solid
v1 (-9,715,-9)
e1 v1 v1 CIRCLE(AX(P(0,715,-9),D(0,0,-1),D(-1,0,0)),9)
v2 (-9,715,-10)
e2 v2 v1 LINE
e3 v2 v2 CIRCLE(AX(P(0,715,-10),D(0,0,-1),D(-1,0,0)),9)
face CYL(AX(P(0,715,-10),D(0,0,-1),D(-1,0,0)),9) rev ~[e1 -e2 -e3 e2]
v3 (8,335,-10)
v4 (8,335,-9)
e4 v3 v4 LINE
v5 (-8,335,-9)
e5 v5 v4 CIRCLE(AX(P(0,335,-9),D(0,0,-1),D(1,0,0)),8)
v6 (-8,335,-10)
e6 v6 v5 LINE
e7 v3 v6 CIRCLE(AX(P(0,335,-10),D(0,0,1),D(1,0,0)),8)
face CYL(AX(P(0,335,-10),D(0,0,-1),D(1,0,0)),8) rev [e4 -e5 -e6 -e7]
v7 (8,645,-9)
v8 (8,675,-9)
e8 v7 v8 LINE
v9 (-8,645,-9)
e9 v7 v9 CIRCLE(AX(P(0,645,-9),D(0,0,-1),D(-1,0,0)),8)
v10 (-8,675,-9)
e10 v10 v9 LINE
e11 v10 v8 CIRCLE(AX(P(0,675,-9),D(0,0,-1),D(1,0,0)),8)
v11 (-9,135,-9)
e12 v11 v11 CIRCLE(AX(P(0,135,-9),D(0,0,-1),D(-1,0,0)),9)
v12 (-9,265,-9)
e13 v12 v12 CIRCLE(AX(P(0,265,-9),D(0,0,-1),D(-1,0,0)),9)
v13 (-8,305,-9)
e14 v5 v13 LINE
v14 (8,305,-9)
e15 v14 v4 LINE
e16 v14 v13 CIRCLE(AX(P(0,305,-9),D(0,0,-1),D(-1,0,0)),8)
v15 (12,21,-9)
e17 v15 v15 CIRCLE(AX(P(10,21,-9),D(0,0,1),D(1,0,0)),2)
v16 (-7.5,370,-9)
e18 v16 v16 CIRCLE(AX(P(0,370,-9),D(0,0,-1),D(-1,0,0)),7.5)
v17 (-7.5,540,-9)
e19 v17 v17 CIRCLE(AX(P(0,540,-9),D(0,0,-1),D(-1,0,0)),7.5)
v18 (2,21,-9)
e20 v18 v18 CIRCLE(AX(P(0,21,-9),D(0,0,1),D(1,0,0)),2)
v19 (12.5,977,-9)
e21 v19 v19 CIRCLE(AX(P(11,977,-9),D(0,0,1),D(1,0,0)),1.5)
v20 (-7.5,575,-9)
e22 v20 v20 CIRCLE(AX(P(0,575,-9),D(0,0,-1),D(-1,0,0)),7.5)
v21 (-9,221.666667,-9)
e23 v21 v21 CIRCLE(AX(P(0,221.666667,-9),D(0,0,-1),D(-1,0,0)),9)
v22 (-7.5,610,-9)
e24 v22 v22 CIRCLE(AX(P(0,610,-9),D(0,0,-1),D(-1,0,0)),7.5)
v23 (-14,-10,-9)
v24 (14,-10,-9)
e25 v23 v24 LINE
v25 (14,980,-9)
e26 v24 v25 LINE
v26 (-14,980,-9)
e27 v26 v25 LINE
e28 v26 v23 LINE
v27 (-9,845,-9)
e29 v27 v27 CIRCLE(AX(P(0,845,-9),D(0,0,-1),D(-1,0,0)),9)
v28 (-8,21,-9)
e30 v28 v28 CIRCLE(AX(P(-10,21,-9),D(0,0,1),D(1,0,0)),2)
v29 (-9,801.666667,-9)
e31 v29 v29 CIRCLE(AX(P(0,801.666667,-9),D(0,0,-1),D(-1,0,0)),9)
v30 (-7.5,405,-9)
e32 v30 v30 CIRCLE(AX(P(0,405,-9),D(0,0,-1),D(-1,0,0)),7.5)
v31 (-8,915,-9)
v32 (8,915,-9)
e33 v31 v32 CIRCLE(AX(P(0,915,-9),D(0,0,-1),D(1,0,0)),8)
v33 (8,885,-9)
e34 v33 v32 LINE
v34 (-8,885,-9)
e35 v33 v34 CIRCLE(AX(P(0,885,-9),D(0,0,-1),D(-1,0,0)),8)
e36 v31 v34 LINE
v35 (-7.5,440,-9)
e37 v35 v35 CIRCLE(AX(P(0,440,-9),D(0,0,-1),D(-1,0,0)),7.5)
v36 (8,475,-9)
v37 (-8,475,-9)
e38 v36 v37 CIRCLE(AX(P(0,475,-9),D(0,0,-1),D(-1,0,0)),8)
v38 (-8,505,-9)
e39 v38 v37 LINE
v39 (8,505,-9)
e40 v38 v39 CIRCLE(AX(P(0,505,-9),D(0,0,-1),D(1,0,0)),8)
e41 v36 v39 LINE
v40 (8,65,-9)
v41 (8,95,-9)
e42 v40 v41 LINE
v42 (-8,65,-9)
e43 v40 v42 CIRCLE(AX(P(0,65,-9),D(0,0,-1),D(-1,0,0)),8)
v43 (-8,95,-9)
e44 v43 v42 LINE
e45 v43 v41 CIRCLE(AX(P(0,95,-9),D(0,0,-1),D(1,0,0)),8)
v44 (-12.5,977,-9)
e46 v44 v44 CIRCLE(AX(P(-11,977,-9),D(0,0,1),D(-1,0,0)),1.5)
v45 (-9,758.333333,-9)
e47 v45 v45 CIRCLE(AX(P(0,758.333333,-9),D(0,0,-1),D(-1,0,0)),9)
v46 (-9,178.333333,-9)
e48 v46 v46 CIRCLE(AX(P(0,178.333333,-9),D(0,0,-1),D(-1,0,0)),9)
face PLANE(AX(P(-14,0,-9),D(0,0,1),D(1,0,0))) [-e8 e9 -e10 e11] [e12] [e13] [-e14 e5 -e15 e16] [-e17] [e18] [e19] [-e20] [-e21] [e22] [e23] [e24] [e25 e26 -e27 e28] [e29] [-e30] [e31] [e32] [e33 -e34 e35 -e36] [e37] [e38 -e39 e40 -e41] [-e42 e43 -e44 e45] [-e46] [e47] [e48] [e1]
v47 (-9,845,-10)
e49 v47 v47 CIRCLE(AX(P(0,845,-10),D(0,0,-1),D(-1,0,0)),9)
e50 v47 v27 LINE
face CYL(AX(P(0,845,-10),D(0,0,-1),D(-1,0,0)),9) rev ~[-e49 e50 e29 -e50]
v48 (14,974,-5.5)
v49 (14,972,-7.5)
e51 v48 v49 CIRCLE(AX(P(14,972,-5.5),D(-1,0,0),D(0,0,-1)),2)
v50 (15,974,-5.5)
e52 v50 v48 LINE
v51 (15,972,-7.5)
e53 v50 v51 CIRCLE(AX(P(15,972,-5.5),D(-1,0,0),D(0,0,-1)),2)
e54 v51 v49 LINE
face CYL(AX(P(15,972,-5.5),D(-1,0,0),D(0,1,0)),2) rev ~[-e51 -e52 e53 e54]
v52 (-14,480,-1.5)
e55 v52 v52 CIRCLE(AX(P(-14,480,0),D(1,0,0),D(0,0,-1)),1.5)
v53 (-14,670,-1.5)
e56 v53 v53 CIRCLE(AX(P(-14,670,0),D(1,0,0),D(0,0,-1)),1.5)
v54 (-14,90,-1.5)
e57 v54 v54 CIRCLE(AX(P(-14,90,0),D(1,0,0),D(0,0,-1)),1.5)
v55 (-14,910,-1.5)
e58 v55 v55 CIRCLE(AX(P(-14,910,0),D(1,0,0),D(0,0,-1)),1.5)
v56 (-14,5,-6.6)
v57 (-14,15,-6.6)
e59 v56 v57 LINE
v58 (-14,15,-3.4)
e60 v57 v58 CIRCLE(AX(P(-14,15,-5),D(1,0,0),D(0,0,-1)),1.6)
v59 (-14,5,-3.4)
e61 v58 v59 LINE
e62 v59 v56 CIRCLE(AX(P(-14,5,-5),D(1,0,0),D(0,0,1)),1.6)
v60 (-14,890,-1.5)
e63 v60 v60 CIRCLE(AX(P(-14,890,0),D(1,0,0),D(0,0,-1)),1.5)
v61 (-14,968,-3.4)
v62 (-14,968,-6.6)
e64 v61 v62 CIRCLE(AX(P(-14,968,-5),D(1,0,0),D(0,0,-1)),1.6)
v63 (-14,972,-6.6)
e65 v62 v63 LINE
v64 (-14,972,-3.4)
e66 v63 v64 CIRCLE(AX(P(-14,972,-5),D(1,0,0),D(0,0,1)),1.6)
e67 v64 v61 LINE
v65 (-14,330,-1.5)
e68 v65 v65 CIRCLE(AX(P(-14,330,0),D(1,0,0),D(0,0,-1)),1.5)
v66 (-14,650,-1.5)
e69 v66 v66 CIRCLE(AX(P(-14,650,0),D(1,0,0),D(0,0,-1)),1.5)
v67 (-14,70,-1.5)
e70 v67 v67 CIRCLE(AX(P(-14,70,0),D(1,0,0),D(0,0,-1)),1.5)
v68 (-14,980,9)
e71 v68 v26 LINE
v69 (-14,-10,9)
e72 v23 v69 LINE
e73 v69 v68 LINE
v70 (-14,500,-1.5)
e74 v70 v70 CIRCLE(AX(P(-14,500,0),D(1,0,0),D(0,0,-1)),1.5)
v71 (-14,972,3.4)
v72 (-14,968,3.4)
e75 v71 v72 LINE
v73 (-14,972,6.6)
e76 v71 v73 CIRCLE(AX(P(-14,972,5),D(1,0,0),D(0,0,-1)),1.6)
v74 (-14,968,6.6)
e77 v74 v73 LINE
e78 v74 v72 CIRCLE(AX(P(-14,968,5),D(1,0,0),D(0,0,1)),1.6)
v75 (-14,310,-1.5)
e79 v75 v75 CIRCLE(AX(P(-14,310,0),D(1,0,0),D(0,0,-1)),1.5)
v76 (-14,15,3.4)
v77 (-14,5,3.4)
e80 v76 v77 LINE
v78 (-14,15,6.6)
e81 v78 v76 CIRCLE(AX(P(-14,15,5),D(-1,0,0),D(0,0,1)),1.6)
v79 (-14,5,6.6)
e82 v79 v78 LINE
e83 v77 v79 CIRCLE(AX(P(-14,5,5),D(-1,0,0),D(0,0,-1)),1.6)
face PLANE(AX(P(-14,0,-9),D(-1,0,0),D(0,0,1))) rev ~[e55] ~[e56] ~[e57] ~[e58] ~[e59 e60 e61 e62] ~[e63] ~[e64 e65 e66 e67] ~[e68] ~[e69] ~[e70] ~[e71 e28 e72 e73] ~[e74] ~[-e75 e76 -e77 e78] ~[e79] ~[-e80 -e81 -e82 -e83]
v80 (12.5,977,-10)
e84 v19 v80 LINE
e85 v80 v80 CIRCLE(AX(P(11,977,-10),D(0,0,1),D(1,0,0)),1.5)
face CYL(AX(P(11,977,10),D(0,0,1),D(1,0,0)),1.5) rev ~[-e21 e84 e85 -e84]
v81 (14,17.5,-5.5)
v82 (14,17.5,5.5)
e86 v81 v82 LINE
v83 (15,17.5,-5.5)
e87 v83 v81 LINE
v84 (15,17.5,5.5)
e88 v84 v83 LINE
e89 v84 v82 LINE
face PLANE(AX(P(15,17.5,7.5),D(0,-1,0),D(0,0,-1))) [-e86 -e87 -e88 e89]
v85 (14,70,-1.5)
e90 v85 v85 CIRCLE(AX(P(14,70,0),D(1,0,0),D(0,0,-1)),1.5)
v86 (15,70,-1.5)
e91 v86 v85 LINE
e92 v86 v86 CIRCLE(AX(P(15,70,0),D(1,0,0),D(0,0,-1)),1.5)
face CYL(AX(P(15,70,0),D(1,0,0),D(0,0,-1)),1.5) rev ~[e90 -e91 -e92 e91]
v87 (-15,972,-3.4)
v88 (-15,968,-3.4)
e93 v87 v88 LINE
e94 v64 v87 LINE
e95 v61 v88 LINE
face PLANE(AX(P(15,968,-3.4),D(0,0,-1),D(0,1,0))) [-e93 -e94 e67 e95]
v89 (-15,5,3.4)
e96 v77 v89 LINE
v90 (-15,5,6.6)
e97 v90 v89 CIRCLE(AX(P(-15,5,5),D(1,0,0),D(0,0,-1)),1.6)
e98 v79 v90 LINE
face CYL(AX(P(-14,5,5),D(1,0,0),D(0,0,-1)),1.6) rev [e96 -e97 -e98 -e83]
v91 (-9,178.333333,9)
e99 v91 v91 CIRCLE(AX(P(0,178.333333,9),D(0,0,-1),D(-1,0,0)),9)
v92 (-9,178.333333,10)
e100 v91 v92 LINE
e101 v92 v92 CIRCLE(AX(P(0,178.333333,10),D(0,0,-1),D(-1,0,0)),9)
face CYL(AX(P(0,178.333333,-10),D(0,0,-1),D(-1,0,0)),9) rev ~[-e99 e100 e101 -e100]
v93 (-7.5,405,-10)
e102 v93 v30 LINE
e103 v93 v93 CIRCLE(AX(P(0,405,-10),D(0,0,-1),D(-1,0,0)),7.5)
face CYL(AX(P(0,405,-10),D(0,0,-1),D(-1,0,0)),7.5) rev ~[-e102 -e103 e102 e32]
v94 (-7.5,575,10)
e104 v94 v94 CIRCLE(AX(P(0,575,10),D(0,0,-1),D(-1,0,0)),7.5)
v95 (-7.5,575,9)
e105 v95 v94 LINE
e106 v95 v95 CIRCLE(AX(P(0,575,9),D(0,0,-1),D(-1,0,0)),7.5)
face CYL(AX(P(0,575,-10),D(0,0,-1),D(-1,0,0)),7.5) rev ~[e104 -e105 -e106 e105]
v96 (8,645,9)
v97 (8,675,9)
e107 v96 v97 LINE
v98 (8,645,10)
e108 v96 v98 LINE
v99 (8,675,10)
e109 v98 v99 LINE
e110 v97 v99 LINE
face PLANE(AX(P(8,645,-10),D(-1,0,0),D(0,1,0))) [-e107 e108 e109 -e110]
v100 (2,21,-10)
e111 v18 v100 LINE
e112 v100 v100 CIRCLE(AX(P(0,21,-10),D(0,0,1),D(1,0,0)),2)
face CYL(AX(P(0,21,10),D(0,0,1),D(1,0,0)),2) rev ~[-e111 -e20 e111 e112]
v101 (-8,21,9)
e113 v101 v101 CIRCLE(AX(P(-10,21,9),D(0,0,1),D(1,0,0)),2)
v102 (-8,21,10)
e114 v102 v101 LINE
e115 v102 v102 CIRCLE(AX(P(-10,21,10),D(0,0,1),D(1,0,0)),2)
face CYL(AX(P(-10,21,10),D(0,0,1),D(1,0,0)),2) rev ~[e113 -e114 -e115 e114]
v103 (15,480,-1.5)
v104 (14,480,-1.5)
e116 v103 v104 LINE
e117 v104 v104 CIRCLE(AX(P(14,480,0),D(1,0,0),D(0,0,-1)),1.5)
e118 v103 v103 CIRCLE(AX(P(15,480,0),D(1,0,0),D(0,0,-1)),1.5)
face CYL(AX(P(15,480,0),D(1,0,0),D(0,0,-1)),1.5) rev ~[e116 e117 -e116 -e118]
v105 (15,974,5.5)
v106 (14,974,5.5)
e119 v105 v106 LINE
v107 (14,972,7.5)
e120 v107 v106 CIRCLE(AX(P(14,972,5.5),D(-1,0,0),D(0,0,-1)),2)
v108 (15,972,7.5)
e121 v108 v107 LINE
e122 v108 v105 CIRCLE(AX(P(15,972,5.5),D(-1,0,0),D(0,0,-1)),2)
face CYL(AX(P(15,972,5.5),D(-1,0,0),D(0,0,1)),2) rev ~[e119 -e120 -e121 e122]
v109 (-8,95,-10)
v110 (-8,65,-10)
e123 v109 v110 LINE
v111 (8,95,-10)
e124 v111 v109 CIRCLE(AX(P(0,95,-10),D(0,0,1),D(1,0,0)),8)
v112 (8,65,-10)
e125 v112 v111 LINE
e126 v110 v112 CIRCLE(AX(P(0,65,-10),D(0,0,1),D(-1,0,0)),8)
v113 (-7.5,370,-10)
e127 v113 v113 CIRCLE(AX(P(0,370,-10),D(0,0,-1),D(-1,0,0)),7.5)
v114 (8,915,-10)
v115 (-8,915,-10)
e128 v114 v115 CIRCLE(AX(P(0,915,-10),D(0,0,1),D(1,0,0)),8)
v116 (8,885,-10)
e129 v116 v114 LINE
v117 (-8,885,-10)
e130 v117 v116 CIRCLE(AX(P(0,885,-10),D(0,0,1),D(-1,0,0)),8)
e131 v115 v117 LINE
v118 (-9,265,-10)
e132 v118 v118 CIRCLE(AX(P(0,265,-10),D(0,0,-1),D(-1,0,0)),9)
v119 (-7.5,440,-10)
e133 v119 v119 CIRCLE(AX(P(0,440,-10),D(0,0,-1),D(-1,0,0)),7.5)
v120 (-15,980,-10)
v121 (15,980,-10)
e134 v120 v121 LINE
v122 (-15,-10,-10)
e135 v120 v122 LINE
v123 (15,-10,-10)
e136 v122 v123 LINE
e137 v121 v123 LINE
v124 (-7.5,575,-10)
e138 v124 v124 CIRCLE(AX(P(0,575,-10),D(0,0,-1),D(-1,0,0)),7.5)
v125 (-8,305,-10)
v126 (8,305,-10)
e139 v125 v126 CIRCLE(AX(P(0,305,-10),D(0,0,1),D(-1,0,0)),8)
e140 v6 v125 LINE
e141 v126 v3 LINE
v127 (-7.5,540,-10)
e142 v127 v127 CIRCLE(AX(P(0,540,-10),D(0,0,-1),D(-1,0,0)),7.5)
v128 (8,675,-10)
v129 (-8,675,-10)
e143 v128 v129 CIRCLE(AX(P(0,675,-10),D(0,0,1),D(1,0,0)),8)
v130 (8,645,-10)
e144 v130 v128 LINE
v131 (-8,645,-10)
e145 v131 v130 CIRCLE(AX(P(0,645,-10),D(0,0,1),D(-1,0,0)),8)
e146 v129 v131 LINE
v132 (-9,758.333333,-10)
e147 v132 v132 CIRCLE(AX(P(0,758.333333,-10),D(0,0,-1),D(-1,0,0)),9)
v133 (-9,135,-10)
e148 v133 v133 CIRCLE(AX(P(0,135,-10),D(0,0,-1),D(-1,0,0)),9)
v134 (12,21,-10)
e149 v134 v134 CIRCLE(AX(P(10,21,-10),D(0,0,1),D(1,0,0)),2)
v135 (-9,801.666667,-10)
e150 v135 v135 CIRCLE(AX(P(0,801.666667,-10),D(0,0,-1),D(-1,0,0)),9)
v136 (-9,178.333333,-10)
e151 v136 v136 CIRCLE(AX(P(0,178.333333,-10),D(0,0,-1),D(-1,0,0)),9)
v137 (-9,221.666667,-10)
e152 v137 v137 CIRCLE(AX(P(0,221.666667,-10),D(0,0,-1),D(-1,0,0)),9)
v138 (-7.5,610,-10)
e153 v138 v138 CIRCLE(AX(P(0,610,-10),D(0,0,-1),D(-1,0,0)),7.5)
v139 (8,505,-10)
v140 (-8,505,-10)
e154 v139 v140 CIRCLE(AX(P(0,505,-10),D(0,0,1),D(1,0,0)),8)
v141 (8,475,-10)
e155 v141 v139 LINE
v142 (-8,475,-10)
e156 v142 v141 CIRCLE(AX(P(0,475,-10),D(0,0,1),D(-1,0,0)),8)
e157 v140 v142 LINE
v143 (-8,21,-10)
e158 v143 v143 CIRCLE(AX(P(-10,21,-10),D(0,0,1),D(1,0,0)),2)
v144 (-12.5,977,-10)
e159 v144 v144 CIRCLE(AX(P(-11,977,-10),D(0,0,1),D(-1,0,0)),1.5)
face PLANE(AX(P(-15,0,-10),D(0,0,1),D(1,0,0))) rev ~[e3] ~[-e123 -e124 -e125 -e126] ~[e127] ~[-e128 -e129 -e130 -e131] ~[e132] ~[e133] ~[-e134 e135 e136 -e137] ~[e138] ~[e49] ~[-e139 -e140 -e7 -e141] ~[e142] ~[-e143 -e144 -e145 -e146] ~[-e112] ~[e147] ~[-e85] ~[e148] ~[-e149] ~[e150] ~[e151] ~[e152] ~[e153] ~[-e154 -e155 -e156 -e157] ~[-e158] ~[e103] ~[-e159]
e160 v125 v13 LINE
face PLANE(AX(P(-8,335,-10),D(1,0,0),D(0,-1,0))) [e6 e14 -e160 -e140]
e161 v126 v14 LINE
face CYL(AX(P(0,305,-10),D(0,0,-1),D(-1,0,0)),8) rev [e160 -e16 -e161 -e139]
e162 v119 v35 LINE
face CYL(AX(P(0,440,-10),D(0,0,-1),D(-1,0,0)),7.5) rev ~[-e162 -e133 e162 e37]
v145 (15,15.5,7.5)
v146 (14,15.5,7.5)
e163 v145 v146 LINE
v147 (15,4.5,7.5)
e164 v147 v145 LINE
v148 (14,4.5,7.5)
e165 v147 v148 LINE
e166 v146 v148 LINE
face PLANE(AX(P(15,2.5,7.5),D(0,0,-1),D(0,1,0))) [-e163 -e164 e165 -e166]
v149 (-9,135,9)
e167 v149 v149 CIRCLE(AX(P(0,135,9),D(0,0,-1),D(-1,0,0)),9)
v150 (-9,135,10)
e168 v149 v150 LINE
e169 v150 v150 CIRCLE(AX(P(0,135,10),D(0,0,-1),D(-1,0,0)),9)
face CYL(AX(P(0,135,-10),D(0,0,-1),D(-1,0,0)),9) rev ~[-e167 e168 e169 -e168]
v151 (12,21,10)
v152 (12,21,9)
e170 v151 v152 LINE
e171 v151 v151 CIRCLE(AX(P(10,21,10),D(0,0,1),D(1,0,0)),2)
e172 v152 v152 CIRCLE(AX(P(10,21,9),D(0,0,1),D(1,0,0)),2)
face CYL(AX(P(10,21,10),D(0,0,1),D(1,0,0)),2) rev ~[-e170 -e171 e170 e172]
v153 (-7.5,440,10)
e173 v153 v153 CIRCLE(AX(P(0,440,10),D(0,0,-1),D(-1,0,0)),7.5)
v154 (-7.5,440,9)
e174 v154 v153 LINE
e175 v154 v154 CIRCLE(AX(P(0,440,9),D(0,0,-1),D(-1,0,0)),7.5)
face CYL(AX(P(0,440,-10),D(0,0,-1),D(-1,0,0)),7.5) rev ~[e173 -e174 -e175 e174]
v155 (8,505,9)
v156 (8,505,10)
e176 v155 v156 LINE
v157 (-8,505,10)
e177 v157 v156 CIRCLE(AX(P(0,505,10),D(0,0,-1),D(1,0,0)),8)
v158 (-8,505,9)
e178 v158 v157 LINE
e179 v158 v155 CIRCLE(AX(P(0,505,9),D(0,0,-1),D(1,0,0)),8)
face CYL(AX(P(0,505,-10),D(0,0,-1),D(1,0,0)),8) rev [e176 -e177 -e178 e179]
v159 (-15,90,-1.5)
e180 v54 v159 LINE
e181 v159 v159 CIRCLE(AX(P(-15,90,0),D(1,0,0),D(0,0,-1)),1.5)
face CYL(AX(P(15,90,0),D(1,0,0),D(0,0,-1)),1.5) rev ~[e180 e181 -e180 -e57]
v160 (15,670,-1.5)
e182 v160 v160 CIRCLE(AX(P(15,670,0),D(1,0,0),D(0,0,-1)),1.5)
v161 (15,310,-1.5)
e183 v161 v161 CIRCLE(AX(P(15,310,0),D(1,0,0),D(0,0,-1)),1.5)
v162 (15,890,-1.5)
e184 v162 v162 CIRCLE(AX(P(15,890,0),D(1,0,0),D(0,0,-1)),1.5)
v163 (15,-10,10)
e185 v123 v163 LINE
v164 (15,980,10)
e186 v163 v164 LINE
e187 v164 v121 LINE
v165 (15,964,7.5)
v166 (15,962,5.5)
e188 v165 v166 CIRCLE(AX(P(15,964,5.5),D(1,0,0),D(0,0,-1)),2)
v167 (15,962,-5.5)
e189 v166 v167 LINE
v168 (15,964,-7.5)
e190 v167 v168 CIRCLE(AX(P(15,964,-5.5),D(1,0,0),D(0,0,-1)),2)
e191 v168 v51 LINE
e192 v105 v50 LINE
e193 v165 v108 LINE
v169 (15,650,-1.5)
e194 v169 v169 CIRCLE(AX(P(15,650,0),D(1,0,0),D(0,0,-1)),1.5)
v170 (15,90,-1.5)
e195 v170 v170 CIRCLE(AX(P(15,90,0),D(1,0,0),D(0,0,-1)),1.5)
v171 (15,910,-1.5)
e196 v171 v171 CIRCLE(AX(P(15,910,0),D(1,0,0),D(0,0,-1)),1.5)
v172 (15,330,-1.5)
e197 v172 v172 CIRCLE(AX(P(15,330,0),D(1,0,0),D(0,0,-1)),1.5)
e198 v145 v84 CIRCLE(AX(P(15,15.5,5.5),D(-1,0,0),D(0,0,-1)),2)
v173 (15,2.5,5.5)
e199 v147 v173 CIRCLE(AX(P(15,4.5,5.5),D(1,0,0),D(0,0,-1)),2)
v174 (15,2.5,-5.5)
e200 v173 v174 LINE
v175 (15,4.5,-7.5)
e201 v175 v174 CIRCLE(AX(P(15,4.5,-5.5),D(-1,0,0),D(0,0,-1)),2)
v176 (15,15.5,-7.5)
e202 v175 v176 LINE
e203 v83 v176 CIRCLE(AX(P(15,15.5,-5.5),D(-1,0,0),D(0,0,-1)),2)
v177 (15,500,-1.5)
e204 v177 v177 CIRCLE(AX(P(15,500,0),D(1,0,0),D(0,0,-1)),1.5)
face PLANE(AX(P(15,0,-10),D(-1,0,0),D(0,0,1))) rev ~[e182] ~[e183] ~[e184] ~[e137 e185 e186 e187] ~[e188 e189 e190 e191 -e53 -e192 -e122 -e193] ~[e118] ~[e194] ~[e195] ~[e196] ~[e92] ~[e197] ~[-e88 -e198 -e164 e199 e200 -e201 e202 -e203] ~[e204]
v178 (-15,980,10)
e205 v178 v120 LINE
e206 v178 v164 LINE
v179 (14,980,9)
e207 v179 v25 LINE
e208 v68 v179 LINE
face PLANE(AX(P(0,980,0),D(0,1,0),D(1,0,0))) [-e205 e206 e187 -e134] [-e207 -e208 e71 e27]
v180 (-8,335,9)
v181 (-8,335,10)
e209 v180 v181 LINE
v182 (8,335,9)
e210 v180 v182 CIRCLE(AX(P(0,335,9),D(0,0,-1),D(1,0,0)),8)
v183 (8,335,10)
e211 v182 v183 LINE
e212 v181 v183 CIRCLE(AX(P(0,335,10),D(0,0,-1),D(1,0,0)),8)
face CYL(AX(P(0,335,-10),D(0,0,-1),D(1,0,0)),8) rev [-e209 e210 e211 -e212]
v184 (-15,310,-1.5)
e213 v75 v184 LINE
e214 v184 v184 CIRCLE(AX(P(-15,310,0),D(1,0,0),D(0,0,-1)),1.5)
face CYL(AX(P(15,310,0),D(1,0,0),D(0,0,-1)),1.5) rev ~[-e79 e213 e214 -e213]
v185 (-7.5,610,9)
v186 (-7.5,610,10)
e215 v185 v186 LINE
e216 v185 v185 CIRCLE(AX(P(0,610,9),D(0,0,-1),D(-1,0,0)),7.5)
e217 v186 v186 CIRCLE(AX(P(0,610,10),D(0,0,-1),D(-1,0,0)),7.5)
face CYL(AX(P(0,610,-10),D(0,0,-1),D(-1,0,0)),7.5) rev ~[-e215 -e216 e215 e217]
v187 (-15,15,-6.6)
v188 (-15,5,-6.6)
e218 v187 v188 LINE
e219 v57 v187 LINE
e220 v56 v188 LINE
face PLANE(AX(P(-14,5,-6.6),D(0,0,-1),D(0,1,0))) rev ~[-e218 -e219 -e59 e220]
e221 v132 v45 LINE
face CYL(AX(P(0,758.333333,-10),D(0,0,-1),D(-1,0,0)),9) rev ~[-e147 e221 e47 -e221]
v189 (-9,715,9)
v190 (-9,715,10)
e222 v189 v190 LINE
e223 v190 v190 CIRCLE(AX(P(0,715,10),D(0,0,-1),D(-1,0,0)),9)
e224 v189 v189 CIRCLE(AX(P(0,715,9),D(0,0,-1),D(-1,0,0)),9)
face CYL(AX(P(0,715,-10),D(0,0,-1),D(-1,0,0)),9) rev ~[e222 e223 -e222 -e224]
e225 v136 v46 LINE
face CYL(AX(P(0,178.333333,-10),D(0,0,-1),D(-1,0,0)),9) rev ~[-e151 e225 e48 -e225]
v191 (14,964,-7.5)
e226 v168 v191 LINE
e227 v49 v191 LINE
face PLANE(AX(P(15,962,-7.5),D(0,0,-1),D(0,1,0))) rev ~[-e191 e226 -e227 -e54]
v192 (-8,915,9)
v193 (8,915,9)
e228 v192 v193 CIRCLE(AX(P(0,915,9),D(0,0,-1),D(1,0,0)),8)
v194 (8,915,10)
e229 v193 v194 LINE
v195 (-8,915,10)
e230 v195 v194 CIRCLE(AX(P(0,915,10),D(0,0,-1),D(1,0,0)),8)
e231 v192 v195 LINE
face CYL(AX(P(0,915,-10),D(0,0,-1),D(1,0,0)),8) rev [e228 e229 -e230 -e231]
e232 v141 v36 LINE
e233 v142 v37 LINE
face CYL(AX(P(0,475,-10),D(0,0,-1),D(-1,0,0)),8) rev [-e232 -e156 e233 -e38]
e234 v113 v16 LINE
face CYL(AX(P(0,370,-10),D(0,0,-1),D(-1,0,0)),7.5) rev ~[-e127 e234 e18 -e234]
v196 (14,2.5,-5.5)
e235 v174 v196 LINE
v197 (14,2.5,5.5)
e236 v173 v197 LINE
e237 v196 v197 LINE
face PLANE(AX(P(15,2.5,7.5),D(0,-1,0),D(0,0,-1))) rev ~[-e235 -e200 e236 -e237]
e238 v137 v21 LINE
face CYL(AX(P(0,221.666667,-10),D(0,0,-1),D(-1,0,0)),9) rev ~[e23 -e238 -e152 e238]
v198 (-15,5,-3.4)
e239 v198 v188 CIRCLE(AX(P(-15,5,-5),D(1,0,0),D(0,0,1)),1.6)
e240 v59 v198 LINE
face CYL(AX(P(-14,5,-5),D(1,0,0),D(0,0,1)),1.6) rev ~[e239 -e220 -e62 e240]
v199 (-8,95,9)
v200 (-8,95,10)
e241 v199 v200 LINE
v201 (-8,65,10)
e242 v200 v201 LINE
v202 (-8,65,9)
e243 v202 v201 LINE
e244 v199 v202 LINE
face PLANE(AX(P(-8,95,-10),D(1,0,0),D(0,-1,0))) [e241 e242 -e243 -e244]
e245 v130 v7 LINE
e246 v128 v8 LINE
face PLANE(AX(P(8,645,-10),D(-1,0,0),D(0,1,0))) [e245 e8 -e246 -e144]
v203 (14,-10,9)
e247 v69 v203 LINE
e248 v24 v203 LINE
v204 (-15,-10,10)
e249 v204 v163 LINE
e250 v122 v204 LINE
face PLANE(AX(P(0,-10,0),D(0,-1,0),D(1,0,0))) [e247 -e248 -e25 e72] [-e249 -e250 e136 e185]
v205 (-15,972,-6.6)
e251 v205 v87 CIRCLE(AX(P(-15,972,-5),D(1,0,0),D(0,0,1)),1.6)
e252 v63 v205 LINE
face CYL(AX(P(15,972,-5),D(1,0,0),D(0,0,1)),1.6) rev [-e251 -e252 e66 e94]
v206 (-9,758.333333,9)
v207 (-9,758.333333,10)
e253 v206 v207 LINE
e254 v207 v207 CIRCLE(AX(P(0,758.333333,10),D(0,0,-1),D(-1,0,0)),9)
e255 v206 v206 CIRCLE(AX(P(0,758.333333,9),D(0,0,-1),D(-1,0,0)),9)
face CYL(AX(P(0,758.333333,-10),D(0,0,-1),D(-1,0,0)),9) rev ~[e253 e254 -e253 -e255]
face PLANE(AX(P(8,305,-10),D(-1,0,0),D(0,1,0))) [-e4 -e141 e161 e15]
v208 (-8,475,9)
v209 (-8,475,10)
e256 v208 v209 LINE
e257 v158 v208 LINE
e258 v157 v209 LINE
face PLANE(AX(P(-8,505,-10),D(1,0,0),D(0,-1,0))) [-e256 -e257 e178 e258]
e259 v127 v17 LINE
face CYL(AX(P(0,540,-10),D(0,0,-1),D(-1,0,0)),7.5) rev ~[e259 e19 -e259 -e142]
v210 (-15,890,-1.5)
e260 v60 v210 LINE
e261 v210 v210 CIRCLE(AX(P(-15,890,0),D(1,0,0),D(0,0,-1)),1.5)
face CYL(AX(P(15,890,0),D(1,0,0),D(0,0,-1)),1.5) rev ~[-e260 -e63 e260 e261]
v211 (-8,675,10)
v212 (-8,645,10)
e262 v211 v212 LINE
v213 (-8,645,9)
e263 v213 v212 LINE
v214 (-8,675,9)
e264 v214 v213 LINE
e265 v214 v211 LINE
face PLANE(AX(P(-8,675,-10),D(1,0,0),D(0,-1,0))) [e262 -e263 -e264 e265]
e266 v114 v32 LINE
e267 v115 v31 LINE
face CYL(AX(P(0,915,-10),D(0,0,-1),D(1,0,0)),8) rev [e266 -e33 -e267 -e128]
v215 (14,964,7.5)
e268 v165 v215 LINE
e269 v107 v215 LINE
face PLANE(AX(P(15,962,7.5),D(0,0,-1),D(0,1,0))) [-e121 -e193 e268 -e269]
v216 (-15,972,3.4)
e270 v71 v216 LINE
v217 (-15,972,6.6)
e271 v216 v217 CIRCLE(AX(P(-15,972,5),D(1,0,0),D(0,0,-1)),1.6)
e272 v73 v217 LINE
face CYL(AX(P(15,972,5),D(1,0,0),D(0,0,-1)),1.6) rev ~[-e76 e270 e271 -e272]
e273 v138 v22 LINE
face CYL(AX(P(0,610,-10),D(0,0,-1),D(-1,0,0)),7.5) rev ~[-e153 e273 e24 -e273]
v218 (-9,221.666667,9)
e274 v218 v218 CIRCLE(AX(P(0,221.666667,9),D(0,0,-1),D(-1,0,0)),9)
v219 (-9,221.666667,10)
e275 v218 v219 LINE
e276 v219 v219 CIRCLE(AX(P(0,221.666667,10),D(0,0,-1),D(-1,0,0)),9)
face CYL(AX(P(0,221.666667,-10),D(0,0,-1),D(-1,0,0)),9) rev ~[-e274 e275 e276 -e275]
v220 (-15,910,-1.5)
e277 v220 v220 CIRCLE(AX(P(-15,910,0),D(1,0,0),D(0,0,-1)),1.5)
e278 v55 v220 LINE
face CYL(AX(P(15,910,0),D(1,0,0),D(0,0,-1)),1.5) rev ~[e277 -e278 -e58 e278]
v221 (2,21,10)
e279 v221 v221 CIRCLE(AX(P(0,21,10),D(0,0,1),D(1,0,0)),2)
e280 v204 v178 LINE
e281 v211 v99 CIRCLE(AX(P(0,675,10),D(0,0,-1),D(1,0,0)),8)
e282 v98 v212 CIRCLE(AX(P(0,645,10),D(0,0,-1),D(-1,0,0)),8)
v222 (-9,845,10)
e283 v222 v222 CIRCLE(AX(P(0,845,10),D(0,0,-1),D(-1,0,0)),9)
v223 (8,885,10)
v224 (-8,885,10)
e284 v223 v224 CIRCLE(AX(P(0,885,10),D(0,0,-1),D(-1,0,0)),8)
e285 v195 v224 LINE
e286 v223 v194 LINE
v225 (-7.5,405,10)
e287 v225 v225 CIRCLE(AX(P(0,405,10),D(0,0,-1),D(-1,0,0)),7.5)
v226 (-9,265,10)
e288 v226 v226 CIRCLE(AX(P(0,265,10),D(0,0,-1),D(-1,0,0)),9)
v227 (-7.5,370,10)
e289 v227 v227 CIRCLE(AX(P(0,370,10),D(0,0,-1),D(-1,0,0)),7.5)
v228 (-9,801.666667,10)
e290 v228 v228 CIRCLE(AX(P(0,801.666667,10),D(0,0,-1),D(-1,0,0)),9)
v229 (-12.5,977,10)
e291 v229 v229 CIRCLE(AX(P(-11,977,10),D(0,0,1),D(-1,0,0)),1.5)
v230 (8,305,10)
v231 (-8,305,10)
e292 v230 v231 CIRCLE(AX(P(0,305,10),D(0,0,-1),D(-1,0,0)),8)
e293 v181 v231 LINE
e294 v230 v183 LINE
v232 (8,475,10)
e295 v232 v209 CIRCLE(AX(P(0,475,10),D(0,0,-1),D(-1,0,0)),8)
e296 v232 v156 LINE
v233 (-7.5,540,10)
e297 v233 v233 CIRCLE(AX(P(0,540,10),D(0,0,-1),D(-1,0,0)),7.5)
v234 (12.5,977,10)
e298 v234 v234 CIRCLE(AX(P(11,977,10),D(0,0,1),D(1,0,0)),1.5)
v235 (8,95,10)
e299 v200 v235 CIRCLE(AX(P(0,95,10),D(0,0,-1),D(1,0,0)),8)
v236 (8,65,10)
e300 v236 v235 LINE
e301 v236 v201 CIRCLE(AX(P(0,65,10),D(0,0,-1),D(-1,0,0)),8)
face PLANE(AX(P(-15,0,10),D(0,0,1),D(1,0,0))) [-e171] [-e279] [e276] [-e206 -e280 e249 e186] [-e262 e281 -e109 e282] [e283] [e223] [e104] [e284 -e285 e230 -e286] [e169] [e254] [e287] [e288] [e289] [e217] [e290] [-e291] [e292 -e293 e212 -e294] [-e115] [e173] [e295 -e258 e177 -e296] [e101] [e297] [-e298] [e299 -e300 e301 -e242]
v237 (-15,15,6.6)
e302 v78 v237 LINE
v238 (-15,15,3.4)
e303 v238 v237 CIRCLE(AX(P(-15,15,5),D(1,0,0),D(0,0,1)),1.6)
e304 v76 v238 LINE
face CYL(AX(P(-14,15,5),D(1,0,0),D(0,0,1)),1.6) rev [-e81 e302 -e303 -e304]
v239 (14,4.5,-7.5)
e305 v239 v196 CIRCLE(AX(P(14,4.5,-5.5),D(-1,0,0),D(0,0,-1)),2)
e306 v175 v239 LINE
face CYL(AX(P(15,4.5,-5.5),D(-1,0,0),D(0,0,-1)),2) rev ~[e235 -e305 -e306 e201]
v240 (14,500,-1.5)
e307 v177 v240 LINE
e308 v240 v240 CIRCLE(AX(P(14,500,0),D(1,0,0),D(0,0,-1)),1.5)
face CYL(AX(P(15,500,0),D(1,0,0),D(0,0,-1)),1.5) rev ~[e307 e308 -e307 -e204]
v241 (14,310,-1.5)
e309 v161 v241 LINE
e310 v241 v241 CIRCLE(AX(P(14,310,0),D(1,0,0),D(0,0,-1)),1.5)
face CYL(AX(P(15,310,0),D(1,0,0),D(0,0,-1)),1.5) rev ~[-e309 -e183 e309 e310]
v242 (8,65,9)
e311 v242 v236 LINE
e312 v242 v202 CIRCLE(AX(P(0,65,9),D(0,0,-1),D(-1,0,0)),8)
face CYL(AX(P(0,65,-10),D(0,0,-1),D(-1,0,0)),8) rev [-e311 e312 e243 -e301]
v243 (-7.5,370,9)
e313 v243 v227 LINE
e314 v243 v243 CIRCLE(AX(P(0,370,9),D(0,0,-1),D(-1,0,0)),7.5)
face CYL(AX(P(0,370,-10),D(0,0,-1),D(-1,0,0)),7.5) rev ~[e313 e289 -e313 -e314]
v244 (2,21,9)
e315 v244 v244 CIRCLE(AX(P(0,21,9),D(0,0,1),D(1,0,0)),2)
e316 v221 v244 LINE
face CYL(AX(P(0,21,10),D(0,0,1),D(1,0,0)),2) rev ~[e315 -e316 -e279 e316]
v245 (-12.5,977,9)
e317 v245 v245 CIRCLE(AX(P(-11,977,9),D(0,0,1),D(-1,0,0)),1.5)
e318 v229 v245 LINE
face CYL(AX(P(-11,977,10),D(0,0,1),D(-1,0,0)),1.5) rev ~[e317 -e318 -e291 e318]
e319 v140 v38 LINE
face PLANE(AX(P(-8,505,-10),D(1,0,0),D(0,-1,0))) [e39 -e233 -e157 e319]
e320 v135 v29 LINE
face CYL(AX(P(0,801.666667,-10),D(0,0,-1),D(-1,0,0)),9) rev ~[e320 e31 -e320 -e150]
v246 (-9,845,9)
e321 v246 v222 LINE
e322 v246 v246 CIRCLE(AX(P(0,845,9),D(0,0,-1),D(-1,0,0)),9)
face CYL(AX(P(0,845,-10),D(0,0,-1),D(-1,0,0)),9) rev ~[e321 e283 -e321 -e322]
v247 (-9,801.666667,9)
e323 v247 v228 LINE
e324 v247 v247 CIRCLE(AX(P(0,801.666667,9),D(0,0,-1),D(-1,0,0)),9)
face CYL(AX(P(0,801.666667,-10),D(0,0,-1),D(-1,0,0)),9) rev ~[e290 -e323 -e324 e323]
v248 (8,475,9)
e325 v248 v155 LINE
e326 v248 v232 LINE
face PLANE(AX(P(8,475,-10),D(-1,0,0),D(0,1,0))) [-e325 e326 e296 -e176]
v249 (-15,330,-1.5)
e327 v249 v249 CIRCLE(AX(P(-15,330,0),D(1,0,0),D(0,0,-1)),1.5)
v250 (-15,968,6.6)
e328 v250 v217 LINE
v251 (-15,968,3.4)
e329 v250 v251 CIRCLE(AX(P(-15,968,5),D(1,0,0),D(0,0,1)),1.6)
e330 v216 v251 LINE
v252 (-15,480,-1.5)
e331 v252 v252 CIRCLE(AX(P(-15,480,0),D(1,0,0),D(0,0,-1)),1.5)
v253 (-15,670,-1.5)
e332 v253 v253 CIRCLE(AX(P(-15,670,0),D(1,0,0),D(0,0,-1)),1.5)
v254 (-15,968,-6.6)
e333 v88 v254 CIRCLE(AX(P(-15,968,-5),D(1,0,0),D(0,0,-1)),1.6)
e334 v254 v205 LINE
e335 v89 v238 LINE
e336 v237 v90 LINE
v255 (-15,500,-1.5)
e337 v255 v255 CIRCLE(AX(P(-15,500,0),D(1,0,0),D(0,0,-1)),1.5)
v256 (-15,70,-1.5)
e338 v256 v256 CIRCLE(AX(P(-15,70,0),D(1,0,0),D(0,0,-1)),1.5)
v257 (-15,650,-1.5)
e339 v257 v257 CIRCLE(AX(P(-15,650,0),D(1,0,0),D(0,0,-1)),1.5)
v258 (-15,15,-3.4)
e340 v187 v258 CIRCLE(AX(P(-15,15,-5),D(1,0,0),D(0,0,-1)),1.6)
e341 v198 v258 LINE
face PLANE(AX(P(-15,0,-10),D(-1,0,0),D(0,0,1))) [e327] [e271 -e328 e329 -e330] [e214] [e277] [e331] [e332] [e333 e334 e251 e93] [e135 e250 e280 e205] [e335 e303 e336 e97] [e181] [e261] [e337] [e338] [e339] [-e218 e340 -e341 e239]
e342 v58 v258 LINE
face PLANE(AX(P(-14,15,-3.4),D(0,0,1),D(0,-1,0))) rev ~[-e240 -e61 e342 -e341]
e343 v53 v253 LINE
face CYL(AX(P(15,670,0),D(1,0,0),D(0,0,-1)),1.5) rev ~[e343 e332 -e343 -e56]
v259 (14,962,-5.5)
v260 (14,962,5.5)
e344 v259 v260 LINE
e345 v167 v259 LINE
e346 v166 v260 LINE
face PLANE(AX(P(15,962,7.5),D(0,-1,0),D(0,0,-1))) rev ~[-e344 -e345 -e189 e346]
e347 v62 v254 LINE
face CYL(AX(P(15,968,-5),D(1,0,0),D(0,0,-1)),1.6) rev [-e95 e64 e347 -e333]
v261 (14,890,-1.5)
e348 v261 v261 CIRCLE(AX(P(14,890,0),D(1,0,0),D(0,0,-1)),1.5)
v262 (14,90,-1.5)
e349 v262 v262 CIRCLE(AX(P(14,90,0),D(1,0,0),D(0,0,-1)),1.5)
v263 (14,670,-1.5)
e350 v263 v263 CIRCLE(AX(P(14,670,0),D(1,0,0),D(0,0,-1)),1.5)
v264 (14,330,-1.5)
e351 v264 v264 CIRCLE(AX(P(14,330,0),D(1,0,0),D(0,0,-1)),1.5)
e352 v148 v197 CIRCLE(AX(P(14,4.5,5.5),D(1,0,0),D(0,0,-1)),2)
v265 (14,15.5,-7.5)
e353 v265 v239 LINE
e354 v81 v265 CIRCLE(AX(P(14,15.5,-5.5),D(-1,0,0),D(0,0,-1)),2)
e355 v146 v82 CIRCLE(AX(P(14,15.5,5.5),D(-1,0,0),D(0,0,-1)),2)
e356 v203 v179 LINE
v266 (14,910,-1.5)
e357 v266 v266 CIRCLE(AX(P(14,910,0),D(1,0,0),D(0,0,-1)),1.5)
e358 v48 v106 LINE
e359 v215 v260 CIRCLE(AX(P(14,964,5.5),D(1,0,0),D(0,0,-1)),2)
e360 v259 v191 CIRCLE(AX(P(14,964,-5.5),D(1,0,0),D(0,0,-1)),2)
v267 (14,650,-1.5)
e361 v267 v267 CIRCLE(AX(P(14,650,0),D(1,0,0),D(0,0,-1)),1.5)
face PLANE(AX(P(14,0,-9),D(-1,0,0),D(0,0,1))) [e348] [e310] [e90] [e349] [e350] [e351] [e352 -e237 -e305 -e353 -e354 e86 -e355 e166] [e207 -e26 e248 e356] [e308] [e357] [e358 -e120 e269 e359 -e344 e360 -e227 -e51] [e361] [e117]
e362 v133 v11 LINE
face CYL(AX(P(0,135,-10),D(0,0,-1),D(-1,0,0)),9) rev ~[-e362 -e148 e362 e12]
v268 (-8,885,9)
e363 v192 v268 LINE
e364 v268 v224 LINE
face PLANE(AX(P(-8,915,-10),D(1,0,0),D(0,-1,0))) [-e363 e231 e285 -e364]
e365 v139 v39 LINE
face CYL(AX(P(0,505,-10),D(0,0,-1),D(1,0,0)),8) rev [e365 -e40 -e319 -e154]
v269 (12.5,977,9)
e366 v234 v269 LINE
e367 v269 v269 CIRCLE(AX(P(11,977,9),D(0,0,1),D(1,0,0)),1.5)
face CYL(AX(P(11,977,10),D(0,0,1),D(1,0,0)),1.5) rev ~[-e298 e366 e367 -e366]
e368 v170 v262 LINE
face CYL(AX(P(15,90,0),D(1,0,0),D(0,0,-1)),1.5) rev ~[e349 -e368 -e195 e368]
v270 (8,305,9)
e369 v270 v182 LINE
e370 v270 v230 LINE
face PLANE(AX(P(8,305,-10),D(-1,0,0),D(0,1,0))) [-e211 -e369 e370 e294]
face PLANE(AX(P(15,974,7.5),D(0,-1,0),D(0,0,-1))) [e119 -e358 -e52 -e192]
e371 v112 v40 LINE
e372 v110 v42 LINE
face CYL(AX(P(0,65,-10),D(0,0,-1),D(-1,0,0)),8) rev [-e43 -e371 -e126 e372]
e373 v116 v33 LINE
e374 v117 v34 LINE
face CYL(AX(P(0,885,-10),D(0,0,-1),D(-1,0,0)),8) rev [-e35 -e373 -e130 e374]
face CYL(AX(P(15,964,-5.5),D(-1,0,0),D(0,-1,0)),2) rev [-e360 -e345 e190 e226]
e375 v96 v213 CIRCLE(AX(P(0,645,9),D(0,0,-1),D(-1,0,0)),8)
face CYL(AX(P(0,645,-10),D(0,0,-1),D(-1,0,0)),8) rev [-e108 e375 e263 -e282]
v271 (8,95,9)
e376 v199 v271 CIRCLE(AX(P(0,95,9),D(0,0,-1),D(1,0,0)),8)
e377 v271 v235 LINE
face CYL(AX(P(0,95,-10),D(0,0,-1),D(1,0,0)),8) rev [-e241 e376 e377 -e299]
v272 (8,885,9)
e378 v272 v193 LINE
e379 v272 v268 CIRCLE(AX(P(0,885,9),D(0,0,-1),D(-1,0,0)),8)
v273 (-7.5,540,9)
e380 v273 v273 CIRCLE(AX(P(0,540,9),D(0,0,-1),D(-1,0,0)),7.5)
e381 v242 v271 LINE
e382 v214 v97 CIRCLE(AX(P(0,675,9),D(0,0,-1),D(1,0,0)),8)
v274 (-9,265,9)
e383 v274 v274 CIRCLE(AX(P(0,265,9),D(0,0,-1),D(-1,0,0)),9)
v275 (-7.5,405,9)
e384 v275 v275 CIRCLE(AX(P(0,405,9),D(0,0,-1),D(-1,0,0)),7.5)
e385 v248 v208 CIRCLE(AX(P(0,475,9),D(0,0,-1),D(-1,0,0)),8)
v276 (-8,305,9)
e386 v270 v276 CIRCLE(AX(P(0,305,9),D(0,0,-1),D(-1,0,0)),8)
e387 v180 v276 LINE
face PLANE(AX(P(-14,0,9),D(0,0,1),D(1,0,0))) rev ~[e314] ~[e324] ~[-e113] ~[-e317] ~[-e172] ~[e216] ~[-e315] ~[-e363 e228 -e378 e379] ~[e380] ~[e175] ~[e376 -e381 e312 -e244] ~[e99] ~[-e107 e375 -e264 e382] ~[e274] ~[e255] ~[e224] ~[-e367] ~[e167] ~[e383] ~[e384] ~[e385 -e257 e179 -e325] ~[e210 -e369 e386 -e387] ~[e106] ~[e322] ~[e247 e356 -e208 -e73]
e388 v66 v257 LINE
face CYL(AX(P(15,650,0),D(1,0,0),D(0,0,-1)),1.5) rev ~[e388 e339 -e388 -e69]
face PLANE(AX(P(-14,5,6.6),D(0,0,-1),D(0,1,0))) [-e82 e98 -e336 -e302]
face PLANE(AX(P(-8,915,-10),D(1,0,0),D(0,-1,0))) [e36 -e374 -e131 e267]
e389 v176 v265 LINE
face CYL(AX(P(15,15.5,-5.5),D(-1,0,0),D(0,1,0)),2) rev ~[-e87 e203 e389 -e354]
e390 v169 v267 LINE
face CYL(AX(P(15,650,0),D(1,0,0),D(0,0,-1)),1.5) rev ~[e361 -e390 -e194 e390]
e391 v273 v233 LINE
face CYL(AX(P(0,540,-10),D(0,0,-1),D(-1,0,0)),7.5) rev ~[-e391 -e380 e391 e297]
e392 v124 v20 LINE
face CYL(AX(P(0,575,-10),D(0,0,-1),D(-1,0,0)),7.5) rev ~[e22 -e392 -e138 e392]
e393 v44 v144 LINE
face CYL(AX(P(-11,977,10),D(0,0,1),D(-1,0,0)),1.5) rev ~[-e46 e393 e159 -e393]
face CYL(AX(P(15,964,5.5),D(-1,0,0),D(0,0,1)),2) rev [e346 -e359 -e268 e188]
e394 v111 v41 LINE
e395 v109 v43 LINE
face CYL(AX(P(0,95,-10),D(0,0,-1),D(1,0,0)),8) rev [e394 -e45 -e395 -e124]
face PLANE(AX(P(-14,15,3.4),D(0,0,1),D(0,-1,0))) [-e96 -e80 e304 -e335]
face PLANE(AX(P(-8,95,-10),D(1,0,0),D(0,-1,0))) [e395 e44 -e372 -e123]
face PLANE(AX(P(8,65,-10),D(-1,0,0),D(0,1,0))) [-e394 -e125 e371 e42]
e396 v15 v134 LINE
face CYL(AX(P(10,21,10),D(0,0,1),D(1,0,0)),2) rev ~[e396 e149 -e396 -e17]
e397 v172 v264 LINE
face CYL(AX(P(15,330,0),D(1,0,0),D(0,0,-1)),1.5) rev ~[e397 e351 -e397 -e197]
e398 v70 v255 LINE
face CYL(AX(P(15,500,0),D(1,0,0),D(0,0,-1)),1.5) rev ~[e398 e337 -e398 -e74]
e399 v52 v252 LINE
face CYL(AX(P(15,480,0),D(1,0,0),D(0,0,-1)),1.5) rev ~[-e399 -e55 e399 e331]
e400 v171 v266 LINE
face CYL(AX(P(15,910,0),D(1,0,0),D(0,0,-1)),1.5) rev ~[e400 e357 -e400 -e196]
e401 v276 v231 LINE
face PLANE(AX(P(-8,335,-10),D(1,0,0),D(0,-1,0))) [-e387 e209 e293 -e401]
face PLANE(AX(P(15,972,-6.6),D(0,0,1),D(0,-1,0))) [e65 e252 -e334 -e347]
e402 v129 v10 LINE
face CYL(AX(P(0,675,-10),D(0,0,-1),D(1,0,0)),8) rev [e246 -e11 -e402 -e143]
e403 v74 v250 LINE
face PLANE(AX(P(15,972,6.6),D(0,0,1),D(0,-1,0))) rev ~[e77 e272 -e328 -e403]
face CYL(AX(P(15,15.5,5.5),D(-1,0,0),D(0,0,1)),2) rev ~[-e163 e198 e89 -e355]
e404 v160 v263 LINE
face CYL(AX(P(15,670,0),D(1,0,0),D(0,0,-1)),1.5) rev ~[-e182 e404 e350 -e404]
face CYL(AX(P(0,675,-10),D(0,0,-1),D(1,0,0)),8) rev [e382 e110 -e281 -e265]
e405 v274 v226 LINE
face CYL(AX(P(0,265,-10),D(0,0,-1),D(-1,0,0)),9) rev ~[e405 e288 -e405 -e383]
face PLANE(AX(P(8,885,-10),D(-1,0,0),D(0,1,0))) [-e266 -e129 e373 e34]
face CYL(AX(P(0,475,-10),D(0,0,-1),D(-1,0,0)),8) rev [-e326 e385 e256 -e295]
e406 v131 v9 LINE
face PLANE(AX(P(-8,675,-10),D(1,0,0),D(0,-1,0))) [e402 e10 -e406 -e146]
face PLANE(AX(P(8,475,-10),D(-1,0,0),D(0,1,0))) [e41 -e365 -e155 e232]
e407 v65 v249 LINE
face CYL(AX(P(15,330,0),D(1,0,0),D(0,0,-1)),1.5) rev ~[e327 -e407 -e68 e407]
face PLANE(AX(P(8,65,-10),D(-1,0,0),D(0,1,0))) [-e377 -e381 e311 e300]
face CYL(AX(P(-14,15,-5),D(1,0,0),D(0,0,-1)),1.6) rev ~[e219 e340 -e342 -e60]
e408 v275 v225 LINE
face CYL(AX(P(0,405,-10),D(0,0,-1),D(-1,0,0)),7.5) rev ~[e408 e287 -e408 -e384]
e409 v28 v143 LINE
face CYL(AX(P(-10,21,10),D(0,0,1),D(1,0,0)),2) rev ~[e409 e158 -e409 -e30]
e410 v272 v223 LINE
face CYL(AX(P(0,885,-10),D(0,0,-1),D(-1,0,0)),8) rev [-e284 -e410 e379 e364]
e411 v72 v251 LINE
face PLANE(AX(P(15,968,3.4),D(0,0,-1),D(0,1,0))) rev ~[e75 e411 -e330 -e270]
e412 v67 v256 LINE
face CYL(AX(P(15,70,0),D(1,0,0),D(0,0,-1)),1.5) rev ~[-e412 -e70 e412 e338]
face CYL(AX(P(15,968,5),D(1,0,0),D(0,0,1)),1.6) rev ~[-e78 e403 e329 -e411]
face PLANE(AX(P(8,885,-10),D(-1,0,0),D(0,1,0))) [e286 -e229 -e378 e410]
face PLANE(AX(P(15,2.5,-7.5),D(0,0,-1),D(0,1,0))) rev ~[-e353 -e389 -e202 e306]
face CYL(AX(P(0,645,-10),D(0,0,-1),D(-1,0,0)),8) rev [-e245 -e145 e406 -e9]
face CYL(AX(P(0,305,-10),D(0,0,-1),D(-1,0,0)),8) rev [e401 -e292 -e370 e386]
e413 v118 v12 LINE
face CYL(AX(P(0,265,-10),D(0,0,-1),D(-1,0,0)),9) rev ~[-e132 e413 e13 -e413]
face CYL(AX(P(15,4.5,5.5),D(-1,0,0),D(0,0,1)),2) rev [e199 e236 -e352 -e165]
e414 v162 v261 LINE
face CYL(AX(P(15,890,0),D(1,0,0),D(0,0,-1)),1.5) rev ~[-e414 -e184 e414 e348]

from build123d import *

# Parameters (mm, degrees)
SKETCH_1_W           = 30
SKETCH_1_H           = 20
SKETCH_1_W_2         = 28
SKETCH_1_H_2         = 18
EXTRUDE_1_DEPTH      = 980
SKETCH_3_R           = 1.5
CUT_EXTRUDE_2_DEPTH  = 981.51007134
CUT_EXTRUDE_3_DEPTH  = 981.51007134
SKETCH_5_W           = 15
SKETCH_5_H           = 12
CUT_EXTRUDE_4_DEPTH  = 10
SKETCH_6_R           = 9
SKETCH_6_R_2         = 7.5
CUT_EXTRUDE_5_DEPTH  = 981.318825689
SKETCH_9_R           = 1.5
CUT_EXTRUDE_7_DEPTH  = 981.318825689
SKETCH_13_W          = 30
SKETCH_13_H          = 20
SKETCH_13_W_2        = 28
SKETCH_13_H_2        = 18
EXTRUDE_2_DEPTH      = 10
CUT_EXTRUDE_8_DEPTH  = 60
SKETCH_15_W          = 15
SKETCH_15_H          = 15
CUT_EXTRUDE_10_DEPTH = 5
FILLET_1_R           = 2
SKETCH_16_R          = 2
CUT_EXTRUDE_11_DEPTH = 90
FILLET_2_R           = 2


with BuildPart() as part:
    # 草图1 → 凸台-拉伸1 (new body)
    with BuildSketch(Plane(origin=(0, 0, 0), x_dir=(1, 0, 0), z_dir=(0, 1, 0))):
        Rectangle(SKETCH_1_W, SKETCH_1_H)
        Rectangle(SKETCH_1_W_2, SKETCH_1_H_2, mode=Mode.SUBTRACT)
    extrude(amount=EXTRUDE_1_DEPTH)

    # 草图3 → 切除-拉伸2 (cut, through all)
    with BuildSketch(Plane(origin=(15, 0, 0), x_dir=(0, 0, -1), z_dir=(1, 0, 0))):
        with Locations((0, 890)):
            Circle(SKETCH_3_R)
        with Locations((0, 910)):
            Circle(SKETCH_3_R)
        with Locations((0, 500)):
            Circle(SKETCH_3_R)
        with Locations((0, 480)):
            Circle(SKETCH_3_R)
        with Locations((0, 670)):
            Circle(SKETCH_3_R)
        with Locations((0, 650)):
            Circle(SKETCH_3_R)
        with Locations((0, 330)):
            Circle(SKETCH_3_R)
        with Locations((0, 310)):
            Circle(SKETCH_3_R)
        with Locations((0, 70)):
            Circle(SKETCH_3_R)
        with Locations((0, 90)):
            Circle(SKETCH_3_R)
    extrude(amount=-CUT_EXTRUDE_2_DEPTH, mode=Mode.SUBTRACT)

    # 草图4 → 切除-拉伸3 (cut, through all)
    with BuildSketch(Plane(origin=(15, 0, 0), x_dir=(0, 0, -1), z_dir=(1, 0, 0))):
        with BuildLine():
            Line((3.4, 968), (3.4, 972))
            ThreePointArc((3.4, 972), (5, 973.6), (6.6, 972))
            Line((6.6, 972), (6.6, 968))
            ThreePointArc((6.6, 968), (5, 966.4), (3.4, 968))
        make_face()
        with BuildLine():
            Line((-3.4, 968), (-3.4, 972))
            ThreePointArc((-3.4, 972), (-5, 973.6), (-6.6, 972))
            Line((-6.6, 972), (-6.6, 968))
            ThreePointArc((-6.6, 968), (-5, 966.4), (-3.4, 968))
        make_face()
    extrude(amount=-CUT_EXTRUDE_3_DEPTH, mode=Mode.SUBTRACT)

    # 草图5 → 切除-拉伸4 (cut)
    with BuildSketch(Plane(origin=(15, 0, 0), x_dir=(0, 0, -1), z_dir=(1, 0, 0))):
        with Locations((0, 968)):
            Rectangle(SKETCH_5_W, SKETCH_5_H)
    extrude(amount=-CUT_EXTRUDE_4_DEPTH, mode=Mode.SUBTRACT)

    # 草图6 → 切除-拉伸5 (cut, through all)
    with BuildSketch(Plane(origin=(0, 0, -10), x_dir=(-1, 0, 0), z_dir=(0, 0, -1))):
        with Locations((0, 135)):
            Circle(SKETCH_6_R)
        with Locations((0, 178.333333333)):
            Circle(SKETCH_6_R)
        with Locations((0, 221.666666667)):
            Circle(SKETCH_6_R)
        with Locations((0, 265)):
            Circle(SKETCH_6_R)
        with Locations((0, 845)):
            Circle(SKETCH_6_R)
        with Locations((0, 801.666666667)):
            Circle(SKETCH_6_R)
        with Locations((0, 758.333333333)):
            Circle(SKETCH_6_R)
        with Locations((0, 715)):
            Circle(SKETCH_6_R)
        with Locations((0, 440)):
            Circle(SKETCH_6_R_2)
        with Locations((0, 405)):
            Circle(SKETCH_6_R_2)
        with Locations((0, 370)):
            Circle(SKETCH_6_R_2)
        with Locations((0, 610)):
            Circle(SKETCH_6_R_2)
        with Locations((0, 575)):
            Circle(SKETCH_6_R_2)
        with Locations((0, 540)):
            Circle(SKETCH_6_R_2)
        with BuildLine():
            Line((-8, 65), (-8, 95))
            ThreePointArc((-8, 95), (0, 103), (8, 95))
            Line((8, 95), (8, 65))
            ThreePointArc((8, 65), (0, 57), (-8, 65))
        make_face()
        with BuildLine():
            Line((-8, 305), (-8, 335))
            ThreePointArc((-8, 335), (0, 343), (8, 335))
            Line((8, 335), (8, 305))
            ThreePointArc((8, 305), (0, 297), (-8, 305))
        make_face()
        with BuildLine():
            Line((-8, 475), (-8, 505))
            ThreePointArc((-8, 505), (0, 513), (8, 505))
            Line((8, 505), (8, 475))
            ThreePointArc((8, 475), (0, 467), (-8, 475))
        make_face()
        with BuildLine():
            Line((-8, 645), (-8, 675))
            ThreePointArc((-8, 675), (0, 683), (8, 675))
            Line((8, 675), (8, 645))
            ThreePointArc((8, 645), (0, 637), (-8, 645))
        make_face()
        with BuildLine():
            Line((-8, 885), (-8, 915))
            ThreePointArc((-8, 915), (0, 923), (8, 915))
            Line((8, 915), (8, 885))
            ThreePointArc((8, 885), (0, 877), (-8, 885))
        make_face()
    extrude(amount=-CUT_EXTRUDE_5_DEPTH, mode=Mode.SUBTRACT)

    # 草图9 → 切除-拉伸7 (cut, through all)
    with BuildSketch(Plane.XY.offset(10)):
        with Locations((11, 977)):
            Circle(SKETCH_9_R)
        with Locations(Location((-11, 977, 0), (0, 0, 180))):
            Circle(SKETCH_9_R)
    extrude(amount=-CUT_EXTRUDE_7_DEPTH, mode=Mode.SUBTRACT)

    # 草图13 → 凸台-拉伸2 (add)
    with BuildSketch(Plane.XZ):
        Rectangle(SKETCH_13_W, SKETCH_13_H)
        Rectangle(SKETCH_13_W_2, SKETCH_13_H_2, mode=Mode.SUBTRACT)
    extrude(amount=EXTRUDE_2_DEPTH)

    # 草图11 → 切除-拉伸8 (cut)
    with BuildSketch(Plane(origin=(-14, 0, 0), x_dir=(0, 0, -1), z_dir=(1, 0, 0))):
        with BuildLine():
            Line((-6.6, 5), (-6.6, 15))
            ThreePointArc((-6.6, 15), (-5, 16.6), (-3.4, 15))
            Line((-3.4, 15), (-3.4, 5))
            ThreePointArc((-3.4, 5), (-5, 3.4), (-6.6, 5))
        make_face()
        with BuildLine():
            Line((6.6, 5), (6.6, 15))
            ThreePointArc((6.6, 15), (5, 16.6), (3.4, 15))
            Line((3.4, 15), (3.4, 5))
            ThreePointArc((3.4, 5), (5, 3.4), (6.6, 5))
        make_face()
    extrude(amount=-CUT_EXTRUDE_8_DEPTH, mode=Mode.SUBTRACT)

    # 草图15 → 切除-拉伸10 (cut)
    with BuildSketch(Plane(origin=(15, 0, 0), x_dir=(0, 0, -1), z_dir=(1, 0, 0))):
        with Locations((0, 10)):
            Rectangle(SKETCH_15_W, SKETCH_15_H)
    extrude(amount=-CUT_EXTRUDE_10_DEPTH, mode=Mode.SUBTRACT)

    # 圆角1
    fillet_1_edges = [part.edges().sort_by_distance(p)[0] for p in [
        (14.5, 17.5, -7.5),
        (14.5, 2.5, -7.5),
        (14.5, 2.5, 7.5),
        (14.5, 17.5, 7.5),
    ]]
    fillet(fillet_1_edges, radius=FILLET_1_R)

    # 草图16 → 切除-拉伸11 (cut)
    with BuildSketch(Plane.XY.offset(10)):
        with Locations((10, 21)):
            Circle(SKETCH_16_R)
        with Locations((0, 21)):
            Circle(SKETCH_16_R)
        with Locations((-10, 21)):
            Circle(SKETCH_16_R)
    extrude(amount=-CUT_EXTRUDE_11_DEPTH, mode=Mode.SUBTRACT)

    # 圆角2
    fillet_2_edges = [part.edges().sort_by_distance(p)[0] for p in [
        (14.5, 974, -7.5),
        (14.5, 962, -7.5),
        (14.5, 962, 7.5),
        (14.5, 974, 7.5),
    ]]
    fillet(fillet_2_edges, radius=FILLET_2_R)


solid = part.part
